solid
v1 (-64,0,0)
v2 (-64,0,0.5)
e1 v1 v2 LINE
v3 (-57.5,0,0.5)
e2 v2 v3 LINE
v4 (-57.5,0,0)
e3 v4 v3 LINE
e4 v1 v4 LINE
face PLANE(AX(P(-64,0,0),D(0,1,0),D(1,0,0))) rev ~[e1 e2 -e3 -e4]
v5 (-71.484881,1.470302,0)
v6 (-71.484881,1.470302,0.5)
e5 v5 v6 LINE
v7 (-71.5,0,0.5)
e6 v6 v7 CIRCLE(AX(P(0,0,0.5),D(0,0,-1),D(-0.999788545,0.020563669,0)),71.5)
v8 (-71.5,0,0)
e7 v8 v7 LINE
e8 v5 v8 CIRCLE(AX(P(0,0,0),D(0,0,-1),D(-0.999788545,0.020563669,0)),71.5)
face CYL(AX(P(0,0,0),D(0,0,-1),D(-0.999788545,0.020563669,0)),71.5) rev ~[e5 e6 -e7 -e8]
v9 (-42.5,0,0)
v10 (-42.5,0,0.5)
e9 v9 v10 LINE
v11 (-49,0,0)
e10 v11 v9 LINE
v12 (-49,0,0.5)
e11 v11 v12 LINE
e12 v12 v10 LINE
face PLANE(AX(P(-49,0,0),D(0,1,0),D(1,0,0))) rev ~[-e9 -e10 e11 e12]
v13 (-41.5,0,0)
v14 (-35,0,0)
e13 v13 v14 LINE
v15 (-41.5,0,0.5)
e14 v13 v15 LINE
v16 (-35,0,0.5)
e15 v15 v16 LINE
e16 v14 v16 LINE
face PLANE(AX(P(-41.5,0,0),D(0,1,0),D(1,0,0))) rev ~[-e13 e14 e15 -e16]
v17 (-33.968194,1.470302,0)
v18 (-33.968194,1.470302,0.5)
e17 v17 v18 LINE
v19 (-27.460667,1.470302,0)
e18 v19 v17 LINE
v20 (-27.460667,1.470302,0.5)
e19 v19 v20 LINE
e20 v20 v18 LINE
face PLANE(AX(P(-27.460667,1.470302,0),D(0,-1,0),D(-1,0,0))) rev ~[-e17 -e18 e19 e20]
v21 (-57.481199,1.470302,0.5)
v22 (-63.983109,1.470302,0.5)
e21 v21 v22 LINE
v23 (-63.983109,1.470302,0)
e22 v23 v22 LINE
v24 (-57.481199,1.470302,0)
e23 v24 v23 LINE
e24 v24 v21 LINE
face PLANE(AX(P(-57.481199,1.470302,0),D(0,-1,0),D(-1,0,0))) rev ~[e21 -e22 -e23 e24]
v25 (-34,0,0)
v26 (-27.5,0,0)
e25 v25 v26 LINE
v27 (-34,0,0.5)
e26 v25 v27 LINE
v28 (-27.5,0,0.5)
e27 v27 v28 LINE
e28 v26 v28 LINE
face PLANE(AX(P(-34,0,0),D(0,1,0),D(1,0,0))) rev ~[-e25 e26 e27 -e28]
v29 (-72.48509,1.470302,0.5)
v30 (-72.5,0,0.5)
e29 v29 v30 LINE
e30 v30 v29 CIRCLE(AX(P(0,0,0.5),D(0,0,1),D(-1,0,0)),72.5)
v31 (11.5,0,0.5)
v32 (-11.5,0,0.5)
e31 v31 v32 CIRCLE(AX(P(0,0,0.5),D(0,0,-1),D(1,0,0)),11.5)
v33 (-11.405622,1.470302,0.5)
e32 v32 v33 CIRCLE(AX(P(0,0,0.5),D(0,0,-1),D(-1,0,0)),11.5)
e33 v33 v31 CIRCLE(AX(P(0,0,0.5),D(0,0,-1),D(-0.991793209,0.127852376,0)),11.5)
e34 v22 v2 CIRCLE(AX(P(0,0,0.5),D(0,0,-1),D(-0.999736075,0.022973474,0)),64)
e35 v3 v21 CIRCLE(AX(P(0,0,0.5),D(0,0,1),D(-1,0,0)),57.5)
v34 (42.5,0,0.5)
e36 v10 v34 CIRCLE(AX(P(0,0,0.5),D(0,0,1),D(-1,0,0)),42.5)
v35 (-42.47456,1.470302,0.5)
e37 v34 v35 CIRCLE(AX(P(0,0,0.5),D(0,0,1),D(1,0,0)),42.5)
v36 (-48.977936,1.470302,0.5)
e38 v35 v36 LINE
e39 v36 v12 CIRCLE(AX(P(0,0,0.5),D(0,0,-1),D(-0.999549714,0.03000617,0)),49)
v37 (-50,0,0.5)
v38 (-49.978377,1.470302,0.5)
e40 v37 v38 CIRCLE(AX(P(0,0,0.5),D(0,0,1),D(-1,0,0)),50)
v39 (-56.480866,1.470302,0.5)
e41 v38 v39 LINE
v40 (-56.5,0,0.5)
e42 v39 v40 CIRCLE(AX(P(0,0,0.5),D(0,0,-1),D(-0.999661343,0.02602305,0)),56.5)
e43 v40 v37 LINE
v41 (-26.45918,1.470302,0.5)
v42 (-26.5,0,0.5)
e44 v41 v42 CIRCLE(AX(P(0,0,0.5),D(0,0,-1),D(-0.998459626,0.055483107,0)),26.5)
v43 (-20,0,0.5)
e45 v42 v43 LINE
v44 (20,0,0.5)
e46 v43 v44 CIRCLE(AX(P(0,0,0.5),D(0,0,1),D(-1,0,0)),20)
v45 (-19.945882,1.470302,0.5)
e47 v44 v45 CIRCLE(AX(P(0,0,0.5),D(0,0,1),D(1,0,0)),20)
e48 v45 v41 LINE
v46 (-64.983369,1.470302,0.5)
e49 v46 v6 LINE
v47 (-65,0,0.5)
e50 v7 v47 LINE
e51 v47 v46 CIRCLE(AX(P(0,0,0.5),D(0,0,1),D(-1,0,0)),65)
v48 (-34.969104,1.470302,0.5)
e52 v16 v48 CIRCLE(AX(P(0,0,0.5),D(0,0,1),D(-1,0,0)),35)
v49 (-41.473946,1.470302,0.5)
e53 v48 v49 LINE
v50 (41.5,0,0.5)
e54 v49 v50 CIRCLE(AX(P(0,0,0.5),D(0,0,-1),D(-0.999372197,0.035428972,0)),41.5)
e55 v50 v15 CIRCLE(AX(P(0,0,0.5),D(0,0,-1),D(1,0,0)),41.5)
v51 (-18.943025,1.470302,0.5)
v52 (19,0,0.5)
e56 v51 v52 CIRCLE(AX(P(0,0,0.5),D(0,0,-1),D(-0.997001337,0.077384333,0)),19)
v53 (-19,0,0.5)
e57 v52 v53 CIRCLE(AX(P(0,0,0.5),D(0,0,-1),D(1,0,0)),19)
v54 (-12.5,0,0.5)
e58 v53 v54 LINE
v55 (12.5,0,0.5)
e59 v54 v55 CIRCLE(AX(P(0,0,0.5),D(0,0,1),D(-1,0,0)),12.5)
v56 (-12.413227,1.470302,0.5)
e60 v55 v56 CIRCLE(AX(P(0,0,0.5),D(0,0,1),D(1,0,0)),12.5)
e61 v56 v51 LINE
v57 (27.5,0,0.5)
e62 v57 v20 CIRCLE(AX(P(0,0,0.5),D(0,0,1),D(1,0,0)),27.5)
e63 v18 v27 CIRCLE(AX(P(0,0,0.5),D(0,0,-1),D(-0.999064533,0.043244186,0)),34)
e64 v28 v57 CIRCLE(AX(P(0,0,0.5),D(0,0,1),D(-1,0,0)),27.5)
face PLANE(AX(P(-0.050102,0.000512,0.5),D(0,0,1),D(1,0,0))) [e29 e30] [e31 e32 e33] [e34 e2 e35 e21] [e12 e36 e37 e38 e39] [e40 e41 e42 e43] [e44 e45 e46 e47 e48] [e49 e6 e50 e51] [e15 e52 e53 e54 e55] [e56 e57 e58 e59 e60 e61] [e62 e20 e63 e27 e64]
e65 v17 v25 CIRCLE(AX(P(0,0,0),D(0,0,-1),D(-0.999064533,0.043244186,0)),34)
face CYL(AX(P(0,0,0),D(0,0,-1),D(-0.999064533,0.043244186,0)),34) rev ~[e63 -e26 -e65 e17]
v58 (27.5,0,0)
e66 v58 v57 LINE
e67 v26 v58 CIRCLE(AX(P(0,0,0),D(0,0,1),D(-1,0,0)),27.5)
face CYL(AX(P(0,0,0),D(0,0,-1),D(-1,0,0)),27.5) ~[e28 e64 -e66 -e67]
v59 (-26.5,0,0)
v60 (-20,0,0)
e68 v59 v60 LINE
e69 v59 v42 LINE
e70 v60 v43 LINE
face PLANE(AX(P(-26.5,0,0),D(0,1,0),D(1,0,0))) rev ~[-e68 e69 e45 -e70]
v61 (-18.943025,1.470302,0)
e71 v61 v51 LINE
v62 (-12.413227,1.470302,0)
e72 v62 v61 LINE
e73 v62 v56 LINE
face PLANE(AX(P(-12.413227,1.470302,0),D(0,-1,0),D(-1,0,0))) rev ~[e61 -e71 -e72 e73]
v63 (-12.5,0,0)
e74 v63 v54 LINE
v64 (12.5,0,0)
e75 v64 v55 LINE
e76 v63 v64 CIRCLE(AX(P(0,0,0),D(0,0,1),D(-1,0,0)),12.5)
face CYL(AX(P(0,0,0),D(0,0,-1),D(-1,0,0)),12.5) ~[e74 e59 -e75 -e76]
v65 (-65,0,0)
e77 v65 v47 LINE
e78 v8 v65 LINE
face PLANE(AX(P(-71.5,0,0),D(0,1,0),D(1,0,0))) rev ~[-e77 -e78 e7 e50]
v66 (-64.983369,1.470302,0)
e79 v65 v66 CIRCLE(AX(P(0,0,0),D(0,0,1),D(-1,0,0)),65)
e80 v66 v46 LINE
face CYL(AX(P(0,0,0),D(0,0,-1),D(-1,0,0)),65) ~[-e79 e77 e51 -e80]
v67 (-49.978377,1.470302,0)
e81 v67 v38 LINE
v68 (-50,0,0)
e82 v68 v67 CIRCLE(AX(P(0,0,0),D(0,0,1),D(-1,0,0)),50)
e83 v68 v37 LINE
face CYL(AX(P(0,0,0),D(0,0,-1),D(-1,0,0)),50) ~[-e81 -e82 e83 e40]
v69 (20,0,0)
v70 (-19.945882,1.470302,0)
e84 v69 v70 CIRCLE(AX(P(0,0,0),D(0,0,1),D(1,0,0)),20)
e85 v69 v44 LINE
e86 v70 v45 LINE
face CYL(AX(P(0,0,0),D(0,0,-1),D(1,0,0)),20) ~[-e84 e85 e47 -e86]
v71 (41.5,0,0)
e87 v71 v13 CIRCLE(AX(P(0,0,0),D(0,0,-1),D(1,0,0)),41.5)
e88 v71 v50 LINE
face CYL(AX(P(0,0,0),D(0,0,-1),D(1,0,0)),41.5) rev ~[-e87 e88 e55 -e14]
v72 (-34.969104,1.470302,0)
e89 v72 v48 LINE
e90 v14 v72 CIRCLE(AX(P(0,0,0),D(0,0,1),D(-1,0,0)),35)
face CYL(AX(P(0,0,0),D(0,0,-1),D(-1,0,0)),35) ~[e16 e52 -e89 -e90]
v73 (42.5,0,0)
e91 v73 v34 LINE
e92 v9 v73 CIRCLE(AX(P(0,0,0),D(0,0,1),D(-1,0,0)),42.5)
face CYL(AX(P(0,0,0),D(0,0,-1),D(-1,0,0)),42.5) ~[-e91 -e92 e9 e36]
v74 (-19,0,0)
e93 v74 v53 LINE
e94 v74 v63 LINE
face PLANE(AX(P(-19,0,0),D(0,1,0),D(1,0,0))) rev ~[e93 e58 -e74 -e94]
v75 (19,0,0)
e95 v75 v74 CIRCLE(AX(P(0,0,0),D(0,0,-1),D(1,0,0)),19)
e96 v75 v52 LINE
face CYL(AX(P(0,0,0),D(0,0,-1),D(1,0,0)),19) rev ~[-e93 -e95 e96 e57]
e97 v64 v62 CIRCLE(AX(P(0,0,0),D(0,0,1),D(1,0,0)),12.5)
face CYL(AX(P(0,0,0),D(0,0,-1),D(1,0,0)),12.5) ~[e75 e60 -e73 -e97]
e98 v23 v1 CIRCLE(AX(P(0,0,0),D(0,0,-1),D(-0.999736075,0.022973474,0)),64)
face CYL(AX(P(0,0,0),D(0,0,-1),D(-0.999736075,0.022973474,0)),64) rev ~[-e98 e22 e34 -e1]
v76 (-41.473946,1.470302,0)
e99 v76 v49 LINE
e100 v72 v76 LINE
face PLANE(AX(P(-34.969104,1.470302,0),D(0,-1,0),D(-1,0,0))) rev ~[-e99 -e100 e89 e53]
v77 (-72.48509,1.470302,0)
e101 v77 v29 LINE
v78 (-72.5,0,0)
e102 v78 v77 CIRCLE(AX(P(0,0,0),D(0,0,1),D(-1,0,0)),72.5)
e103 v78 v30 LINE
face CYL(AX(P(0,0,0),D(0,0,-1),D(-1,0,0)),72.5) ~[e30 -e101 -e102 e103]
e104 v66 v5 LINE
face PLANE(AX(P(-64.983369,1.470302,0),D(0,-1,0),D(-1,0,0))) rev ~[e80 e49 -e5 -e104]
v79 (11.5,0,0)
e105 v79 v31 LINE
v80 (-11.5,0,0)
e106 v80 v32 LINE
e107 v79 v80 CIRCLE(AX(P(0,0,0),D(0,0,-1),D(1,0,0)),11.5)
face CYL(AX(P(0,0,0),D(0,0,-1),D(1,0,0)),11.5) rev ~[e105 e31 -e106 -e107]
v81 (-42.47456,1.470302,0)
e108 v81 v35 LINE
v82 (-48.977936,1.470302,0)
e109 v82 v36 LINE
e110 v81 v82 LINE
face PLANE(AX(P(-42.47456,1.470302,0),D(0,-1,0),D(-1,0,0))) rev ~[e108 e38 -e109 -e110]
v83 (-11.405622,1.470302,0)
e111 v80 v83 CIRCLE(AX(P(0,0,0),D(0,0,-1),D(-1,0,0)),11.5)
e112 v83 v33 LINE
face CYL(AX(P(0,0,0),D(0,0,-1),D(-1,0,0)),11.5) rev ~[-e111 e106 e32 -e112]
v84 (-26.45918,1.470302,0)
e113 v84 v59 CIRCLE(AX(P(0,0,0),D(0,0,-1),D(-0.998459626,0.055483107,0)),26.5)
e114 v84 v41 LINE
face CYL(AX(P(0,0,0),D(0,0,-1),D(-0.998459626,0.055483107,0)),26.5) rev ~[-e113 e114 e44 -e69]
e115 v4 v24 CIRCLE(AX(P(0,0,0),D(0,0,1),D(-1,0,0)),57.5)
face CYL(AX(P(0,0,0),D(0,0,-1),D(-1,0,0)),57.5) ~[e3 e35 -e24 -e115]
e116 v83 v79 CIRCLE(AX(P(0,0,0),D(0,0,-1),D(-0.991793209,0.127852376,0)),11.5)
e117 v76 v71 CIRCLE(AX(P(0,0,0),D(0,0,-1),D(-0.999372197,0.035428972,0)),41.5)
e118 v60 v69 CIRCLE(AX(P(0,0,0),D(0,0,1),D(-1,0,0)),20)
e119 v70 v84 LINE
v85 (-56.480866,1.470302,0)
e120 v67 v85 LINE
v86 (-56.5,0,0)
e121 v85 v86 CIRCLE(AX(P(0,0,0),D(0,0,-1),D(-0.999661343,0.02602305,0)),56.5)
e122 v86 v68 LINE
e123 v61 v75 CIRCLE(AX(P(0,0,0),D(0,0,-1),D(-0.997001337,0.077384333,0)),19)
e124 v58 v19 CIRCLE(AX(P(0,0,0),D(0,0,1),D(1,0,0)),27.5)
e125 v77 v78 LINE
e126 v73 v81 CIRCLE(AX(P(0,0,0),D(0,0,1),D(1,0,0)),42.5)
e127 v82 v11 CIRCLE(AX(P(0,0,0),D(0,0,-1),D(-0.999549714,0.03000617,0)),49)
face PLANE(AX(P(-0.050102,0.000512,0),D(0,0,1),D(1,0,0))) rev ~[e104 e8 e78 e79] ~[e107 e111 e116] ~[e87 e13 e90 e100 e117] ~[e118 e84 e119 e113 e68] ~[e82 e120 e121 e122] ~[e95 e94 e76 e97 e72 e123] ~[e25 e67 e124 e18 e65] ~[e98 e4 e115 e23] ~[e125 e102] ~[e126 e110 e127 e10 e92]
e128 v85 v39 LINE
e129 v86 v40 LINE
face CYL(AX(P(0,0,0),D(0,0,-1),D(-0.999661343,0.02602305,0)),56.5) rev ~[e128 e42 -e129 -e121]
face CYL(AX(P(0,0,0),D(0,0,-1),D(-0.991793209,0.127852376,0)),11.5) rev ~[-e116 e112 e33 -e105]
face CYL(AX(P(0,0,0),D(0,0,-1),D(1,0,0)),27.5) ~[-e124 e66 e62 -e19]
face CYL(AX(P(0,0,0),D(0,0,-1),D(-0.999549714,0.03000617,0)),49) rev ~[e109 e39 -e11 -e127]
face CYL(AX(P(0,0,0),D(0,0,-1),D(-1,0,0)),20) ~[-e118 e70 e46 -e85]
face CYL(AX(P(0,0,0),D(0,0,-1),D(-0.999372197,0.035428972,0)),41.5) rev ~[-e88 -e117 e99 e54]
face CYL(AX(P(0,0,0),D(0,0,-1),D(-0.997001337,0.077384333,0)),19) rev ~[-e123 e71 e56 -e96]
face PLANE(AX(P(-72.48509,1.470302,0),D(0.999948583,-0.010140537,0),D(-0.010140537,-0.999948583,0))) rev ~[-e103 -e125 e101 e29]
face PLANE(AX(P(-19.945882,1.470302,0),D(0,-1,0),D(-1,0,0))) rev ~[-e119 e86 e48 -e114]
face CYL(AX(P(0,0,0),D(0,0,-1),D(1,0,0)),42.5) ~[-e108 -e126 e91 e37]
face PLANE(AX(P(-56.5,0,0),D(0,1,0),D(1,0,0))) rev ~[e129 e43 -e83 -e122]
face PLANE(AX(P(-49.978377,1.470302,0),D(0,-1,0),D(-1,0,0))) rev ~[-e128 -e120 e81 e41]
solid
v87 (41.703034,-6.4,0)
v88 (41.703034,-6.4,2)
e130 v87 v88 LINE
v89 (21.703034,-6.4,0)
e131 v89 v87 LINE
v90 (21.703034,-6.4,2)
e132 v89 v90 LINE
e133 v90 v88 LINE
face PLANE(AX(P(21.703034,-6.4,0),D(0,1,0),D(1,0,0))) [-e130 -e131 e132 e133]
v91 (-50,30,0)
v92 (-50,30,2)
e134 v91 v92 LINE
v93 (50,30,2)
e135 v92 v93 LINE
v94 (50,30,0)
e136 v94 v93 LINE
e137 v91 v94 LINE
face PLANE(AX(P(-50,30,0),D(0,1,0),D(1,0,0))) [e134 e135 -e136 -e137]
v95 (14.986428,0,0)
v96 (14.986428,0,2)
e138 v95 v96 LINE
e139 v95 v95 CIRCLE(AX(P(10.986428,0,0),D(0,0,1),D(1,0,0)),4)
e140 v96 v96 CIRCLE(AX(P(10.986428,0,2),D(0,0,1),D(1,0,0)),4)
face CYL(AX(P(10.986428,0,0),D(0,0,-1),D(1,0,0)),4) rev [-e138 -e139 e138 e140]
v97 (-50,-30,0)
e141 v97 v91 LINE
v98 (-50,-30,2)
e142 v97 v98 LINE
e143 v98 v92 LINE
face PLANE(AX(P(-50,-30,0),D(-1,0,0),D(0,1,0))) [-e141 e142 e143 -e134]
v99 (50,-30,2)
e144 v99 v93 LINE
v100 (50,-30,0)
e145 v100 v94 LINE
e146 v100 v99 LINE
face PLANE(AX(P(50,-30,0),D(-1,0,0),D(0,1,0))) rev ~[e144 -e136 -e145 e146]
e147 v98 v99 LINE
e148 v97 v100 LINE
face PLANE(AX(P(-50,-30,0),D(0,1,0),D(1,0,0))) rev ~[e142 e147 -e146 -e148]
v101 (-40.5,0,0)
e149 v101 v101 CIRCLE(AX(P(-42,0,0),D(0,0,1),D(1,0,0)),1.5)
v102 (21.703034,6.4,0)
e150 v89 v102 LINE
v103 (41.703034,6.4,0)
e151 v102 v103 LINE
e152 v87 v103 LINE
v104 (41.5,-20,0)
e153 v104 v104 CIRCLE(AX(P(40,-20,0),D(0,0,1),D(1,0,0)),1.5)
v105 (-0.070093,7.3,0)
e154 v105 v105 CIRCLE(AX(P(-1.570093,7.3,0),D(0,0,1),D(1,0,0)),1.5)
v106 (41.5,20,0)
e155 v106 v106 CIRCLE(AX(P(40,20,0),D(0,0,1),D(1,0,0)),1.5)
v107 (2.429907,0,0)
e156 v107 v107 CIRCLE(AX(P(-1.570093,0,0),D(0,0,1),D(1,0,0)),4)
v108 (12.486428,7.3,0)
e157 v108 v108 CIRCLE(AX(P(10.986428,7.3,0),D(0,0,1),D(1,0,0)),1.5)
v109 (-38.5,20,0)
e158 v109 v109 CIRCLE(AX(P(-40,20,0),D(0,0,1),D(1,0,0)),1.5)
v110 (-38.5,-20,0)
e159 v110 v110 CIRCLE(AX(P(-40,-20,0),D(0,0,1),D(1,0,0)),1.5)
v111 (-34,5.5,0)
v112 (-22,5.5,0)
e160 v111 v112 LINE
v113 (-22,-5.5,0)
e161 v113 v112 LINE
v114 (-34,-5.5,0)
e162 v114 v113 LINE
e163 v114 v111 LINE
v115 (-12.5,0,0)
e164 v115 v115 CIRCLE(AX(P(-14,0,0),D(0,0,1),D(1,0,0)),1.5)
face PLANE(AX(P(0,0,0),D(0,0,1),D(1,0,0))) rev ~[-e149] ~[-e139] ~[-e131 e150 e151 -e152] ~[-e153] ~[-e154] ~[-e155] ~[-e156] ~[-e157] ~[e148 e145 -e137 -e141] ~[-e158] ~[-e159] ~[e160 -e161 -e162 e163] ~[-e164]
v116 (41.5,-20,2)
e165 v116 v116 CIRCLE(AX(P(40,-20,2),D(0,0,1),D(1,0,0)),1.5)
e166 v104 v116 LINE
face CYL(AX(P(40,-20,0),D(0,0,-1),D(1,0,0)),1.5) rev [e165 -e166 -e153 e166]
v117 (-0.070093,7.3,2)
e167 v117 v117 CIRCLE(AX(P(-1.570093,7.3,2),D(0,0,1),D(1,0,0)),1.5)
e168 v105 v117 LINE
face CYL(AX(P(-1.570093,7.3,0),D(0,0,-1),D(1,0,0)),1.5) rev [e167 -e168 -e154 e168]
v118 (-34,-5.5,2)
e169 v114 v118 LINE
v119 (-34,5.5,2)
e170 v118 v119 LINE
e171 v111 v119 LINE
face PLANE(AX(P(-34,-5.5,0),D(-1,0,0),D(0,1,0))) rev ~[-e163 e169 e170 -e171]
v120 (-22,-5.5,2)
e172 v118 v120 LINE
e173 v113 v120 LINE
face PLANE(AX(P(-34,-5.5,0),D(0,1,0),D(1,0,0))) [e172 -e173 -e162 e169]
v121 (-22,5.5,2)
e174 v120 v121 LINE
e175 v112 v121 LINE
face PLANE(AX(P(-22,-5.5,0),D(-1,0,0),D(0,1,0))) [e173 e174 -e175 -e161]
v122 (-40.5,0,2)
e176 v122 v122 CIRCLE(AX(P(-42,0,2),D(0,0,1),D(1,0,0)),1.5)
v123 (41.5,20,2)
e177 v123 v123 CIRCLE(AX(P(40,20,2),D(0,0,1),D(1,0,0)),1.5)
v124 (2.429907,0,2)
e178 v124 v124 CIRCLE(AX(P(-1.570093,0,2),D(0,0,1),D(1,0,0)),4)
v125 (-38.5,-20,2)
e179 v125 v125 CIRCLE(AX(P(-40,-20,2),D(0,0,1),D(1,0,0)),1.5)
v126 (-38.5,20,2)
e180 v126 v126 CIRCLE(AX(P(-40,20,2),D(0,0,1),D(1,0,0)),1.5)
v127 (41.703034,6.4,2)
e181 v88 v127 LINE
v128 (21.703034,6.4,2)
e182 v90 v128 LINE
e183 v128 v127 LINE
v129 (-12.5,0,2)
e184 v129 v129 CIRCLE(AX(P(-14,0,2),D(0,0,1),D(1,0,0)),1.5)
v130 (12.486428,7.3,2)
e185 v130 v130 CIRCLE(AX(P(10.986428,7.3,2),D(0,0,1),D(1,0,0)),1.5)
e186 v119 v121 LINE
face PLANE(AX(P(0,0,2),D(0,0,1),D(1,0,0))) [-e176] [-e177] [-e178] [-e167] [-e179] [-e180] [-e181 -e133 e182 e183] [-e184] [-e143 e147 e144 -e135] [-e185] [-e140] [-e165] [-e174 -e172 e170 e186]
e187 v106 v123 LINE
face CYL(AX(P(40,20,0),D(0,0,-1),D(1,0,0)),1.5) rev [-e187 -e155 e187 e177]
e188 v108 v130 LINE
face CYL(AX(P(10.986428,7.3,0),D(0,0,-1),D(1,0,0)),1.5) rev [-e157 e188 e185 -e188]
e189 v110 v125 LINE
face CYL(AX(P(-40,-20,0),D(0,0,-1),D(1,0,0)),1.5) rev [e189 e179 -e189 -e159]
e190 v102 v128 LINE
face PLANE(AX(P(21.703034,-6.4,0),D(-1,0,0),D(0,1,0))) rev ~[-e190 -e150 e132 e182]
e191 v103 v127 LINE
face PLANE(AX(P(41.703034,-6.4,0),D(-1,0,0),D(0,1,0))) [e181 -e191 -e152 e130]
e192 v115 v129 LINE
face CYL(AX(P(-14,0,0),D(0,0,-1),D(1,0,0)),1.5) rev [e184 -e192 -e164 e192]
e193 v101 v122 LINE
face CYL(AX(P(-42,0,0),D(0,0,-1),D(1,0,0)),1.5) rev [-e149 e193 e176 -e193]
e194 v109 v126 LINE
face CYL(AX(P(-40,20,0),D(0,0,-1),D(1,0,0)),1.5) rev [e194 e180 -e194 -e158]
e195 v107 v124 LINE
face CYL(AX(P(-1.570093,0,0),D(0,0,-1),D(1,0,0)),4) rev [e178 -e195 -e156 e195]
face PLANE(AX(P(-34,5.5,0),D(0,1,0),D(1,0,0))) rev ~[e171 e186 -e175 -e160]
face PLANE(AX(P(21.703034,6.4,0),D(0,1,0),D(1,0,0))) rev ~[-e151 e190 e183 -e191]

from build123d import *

# Parameters (mm, degrees)
F0_W     = 100
F0_H     = 60
F0_R     = 1.5
F0_W_2   = 12
F0_H_2   = 11
F0_R_2   = 4
F0_W_3   = 20
F0_H_3   = 12.8
F1_DEPTH = 2
F3_DEPTH = 0.5


with BuildPart() as f1:
    # F0 (on Top) → F1 (new body)
    with BuildSketch(Plane.XY):
        Rectangle(F0_W, F0_H)
        with Locations((-40, -20)):
            Circle(F0_R, mode=Mode.SUBTRACT)
        with Locations((40, -20)):
            Circle(F0_R, mode=Mode.SUBTRACT)
        with Locations((-42, 0)):
            Circle(F0_R, mode=Mode.SUBTRACT)
        with Locations((-28, 0)):
            Rectangle(F0_W_2, F0_H_2, mode=Mode.SUBTRACT)
        with Locations((-14, 0)):
            Circle(F0_R, mode=Mode.SUBTRACT)
        with Locations((-1.5700934455, 0)):
            Circle(F0_R_2, mode=Mode.SUBTRACT)
        with Locations((-1.5700934455, 7.3)):
            Circle(F0_R, mode=Mode.SUBTRACT)
        with Locations((-40, 20)):
            Circle(F0_R, mode=Mode.SUBTRACT)
        with Locations((10.9864281221, 0)):
            Circle(F0_R_2, mode=Mode.SUBTRACT)
        with Locations((10.9864281221, 7.3)):
            Circle(F0_R, mode=Mode.SUBTRACT)
        with Locations((31.7030341224, 0)):
            Rectangle(F0_W_3, F0_H_3, mode=Mode.SUBTRACT)
        with Locations((40, 20)):
            Circle(F0_R, mode=Mode.SUBTRACT)
    extrude(amount=F1_DEPTH)


with BuildPart() as f3:
    # F2 (on Top) → F3 (new body)
    with BuildSketch(Plane.XY):
        with BuildLine():
            ThreePointArc((-72.5, 0), (0, -72.5), (72.5, 0))
            ThreePointArc((72.5, 0), (0.7351889639, 72.4962722986), (-72.4850895776, 1.4703023261))
            Line((-72.4850895776, 1.4703023261), (-71.4848809964, 1.4703023261))
            ThreePointArc((-71.4848809964, 1.4703023261), (0.7351900289, 71.4962201492), (71.5, 0))
            ThreePointArc((71.5, 0), (0, -71.5), (-71.5, 0))
            Line((-71.5, 0), (-72.5, 0))
        make_face()
        with BuildLine():
            Line((-71.4848809964, 1.4703023261), (-72.4850895776, 1.4703023261))
            Line((-72.4850895776, 1.4703023261), (-72.5, 0))
            Line((-72.5, 0), (-71.5, 0))
            ThreePointArc((-71.5, 0), (-71.4962201492, 0.7351900289), (-71.4848809964, 1.4703023261))
        make_face()
        with BuildLine():
            Line((-64.9833687267, 1.4703023261), (-71.4848809964, 1.4703023261))
            ThreePointArc((-71.4848809964, 1.4703023261), (-71.4962201492, 0.7351900289), (-71.5, 0))
            Line((-71.5, 0), (-65, 0))
            ThreePointArc((-65, 0), (-64.9958420487, 0.7351981925), (-64.9833687267, 1.4703023261))
        make_face()
        with BuildLine():
            Line((-63.983108795, 1.4703023261), (-64.9833687267, 1.4703023261))
            ThreePointArc((-64.9833687267, 1.4703023261), (-64.9958420487, 0.7351981925), (-65, 0))
            Line((-65, 0), (-64, 0))
            ThreePointArc((-64, 0), (-63.9957770594, 0.735199674), (-63.983108795, 1.4703023261))
        make_face()
        with BuildLine():
            Line((-57.4811987616, 1.4703023261), (-63.983108795, 1.4703023261))
            ThreePointArc((-63.983108795, 1.4703023261), (-63.9957770594, 0.735199674), (-64, 0))
            Line((-64, 0), (-57.5, 0))
            ThreePointArc((-57.5, 0), (-57.4952994983, 0.735211265), (-57.4811987616, 1.4703023261))
        make_face()
        with BuildLine():
            Line((-56.4808658846, 1.4703023261), (-57.4811987616, 1.4703023261))
            ThreePointArc((-57.4811987616, 1.4703023261), (-57.4952994983, 0.735211265), (-57.5, 0))
            Line((-57.5, 0), (-56.5, 0))
            ThreePointArc((-56.5, 0), (-56.4952162686, 0.7352134119), (-56.4808658846, 1.4703023261))
        make_face()
        with BuildLine():
            Line((-49.9783774353, 1.4703023261), (-56.4808658846, 1.4703023261))
            ThreePointArc((-56.4808658846, 1.4703023261), (-56.4952162686, 0.7352134119), (-56.5, 0))
            Line((-56.5, 0), (-50, 0))
            ThreePointArc((-50, 0), (-49.9945940666, 0.7352306552), (-49.9783774353, 1.4703023261))
        make_face()
        with BuildLine():
            Line((-48.9779359617, 1.4703023261), (-49.9783774353, 1.4703023261))
            ThreePointArc((-49.9783774353, 1.4703023261), (-49.9945940666, 0.7352306552), (-50, 0))
            Line((-50, 0), (-49, 0))
            ThreePointArc((-49, 0), (-48.9944836799, 0.7352339342), (-48.9779359617, 1.4703023261))
        make_face()
        with BuildLine():
            Line((-42.4745595748, 1.4703023261), (-48.9779359617, 1.4703023261))
            ThreePointArc((-48.9779359617, 1.4703023261), (-48.9944836799, 0.7352339342), (-49, 0))
            Line((-49, 0), (-42.5, 0))
            ThreePointArc((-42.5, 0), (-42.4936394177, 0.7352612028), (-42.4745595748, 1.4703023261))
        make_face()
        with BuildLine():
            Line((-41.4739461719, 1.4703023261), (-42.4745595748, 1.4703023261))
            ThreePointArc((-42.4745595748, 1.4703023261), (-42.4936394177, 0.7352612028), (-42.5, 0))
            Line((-42.5, 0), (-41.5, 0))
            ThreePointArc((-41.5, 0), (-41.4934860317, 0.7352665727), (-41.4739461719, 1.4703023261))
        make_face()
        with BuildLine():
            Line((-34.9691036641, 1.4703023261), (-41.4739461719, 1.4703023261))
            ThreePointArc((-41.4739461719, 1.4703023261), (-41.4934860317, 0.7352665727), (-41.5, 0))
            Line((-41.5, 0), (-35, 0))
            ThreePointArc((-35, 0), (-34.9922750635, 0.7353134559), (-34.9691036641, 1.4703023261))
        make_face()
        with BuildLine():
            Line((-33.9681941096, 1.4703023261), (-34.9691036641, 1.4703023261))
            ThreePointArc((-34.9691036641, 1.4703023261), (-34.9922750635, 0.7353134559), (-35, 0))
            Line((-35, 0), (-34, 0))
            ThreePointArc((-34, 0), (-33.9920475974, 0.7353231508), (-33.9681941096, 1.4703023261))
        make_face()
        with BuildLine():
            Line((-27.4606666174, 1.4703023261), (-33.9681941096, 1.4703023261))
            ThreePointArc((-33.9681941096, 1.4703023261), (-33.9920475974, 0.7353231508), (-34, 0))
            Line((-34, 0), (-27.5, 0))
            ThreePointArc((-27.5, 0), (-27.4901648956, 0.7354141767), (-27.4606666174, 1.4703023261))
        make_face()
        with BuildLine():
            Line((-26.4591800907, 1.4703023261), (-27.4606666174, 1.4703023261))
            ThreePointArc((-27.4606666174, 1.4703023261), (-27.4901648956, 0.7354141767), (-27.5, 0))
            Line((-27.5, 0), (-26.5, 0))
            ThreePointArc((-26.5, 0), (-26.489793057, 0.7354344286), (-26.4591800907, 1.4703023261))
        make_face()
        with BuildLine():
            Line((-19.945882058, 1.4703023261), (-26.4591800907, 1.4703023261))
            ThreePointArc((-26.4591800907, 1.4703023261), (-26.489793057, 0.7354344286), (-26.5, 0))
            Line((-26.5, 0), (-20, 0))
            ThreePointArc((-20, 0), (-19.9864659352, 0.7356489791), (-19.945882058, 1.4703023261))
        make_face()
        with BuildLine():
            Line((-18.9430253938, 1.4703023261), (-19.945882058, 1.4703023261))
            ThreePointArc((-19.945882058, 1.4703023261), (-19.9864659352, 0.7356489791), (-20, 0))
            Line((-20, 0), (-19, 0))
            ThreePointArc((-19, 0), (-18.9857510055, 0.7357029013), (-18.9430253938, 1.4703023261))
        make_face()
        with BuildLine():
            Line((-11.4056219063, 1.4703023261), (-12.4132272625, 1.4703023261))
            ThreePointArc((-12.4132272625, 1.4703023261), (-12.4782879591, 0.7364303154), (-12.5, 0))
            Line((-12.5, 0), (-11.5, 0))
            ThreePointArc((-11.5, 0), (-11.4763812224, 0.7366641288), (-11.4056219063, 1.4703023261))
        make_face()
        with BuildLine():
            ThreePointArc((12.5, 0), (0.7364303154, 12.4782879591), (-12.4132272625, 1.4703023261))
            Line((-12.4132272625, 1.4703023261), (-11.4056219063, 1.4703023261))
            ThreePointArc((-11.4056219063, 1.4703023261), (0.7366641288, 11.4763812224), (11.5, 0))
            ThreePointArc((11.5, 0), (0, -11.5), (-11.5, 0))
            Line((-11.5, 0), (-12.5, 0))
            ThreePointArc((-12.5, 0), (0, -12.5), (12.5, 0))
        make_face()
        with BuildLine():
            ThreePointArc((20, 0), (0.7356489791, 19.9864659352), (-19.945882058, 1.4703023261))
            Line((-19.945882058, 1.4703023261), (-18.9430253938, 1.4703023261))
            ThreePointArc((-18.9430253938, 1.4703023261), (0.7357029013, 18.9857510055), (19, 0))
            ThreePointArc((19, 0), (0, -19), (-19, 0))
            Line((-19, 0), (-20, 0))
            ThreePointArc((-20, 0), (0, -20), (20, 0))
        make_face()
        with BuildLine():
            ThreePointArc((27.5, 0), (0.7354141767, 27.4901648956), (-27.4606666174, 1.4703023261))
            Line((-27.4606666174, 1.4703023261), (-26.4591800907, 1.4703023261))
            ThreePointArc((-26.4591800907, 1.4703023261), (0.7354344286, 26.489793057), (26.5, 0))
            ThreePointArc((26.5, 0), (0, -26.5), (-26.5, 0))
            Line((-26.5, 0), (-27.5, 0))
            ThreePointArc((-27.5, 0), (0, -27.5), (27.5, 0))
        make_face()
        with BuildLine():
            ThreePointArc((35, 0), (0.7353134559, 34.9922750635), (-34.9691036641, 1.4703023261))
            Line((-34.9691036641, 1.4703023261), (-33.9681941096, 1.4703023261))
            ThreePointArc((-33.9681941096, 1.4703023261), (0.7353231508, 33.9920475974), (34, 0))
            ThreePointArc((34, 0), (0, -34), (-34, 0))
            Line((-34, 0), (-35, 0))
            ThreePointArc((-35, 0), (0, -35), (35, 0))
        make_face()
        with BuildLine():
            ThreePointArc((42.5, 0), (0.7352612028, 42.4936394177), (-42.4745595748, 1.4703023261))
            Line((-42.4745595748, 1.4703023261), (-41.4739461719, 1.4703023261))
            ThreePointArc((-41.4739461719, 1.4703023261), (0.7352665727, 41.4934860317), (41.5, 0))
            ThreePointArc((41.5, 0), (0, -41.5), (-41.5, 0))
            Line((-41.5, 0), (-42.5, 0))
            ThreePointArc((-42.5, 0), (0, -42.5), (42.5, 0))
        make_face()
        with BuildLine():
            ThreePointArc((50, 0), (0.7352306552, 49.9945940666), (-49.9783774353, 1.4703023261))
            Line((-49.9783774353, 1.4703023261), (-48.9779359617, 1.4703023261))
            ThreePointArc((-48.9779359617, 1.4703023261), (0.7352339342, 48.9944836799), (49, 0))
            ThreePointArc((49, 0), (0, -49), (-49, 0))
            Line((-49, 0), (-50, 0))
            ThreePointArc((-50, 0), (0, -50), (50, 0))
        make_face()
        with BuildLine():
            Line((-12.4132272625, 1.4703023261), (-18.9430253938, 1.4703023261))
            ThreePointArc((-18.9430253938, 1.4703023261), (-18.9857510055, 0.7357029013), (-19, 0))
            Line((-19, 0), (-12.5, 0))
            ThreePointArc((-12.5, 0), (-12.4782879591, 0.7364303154), (-12.4132272625, 1.4703023261))
        make_face()
        with BuildLine():
            ThreePointArc((57.5, 0), (0.735211265, 57.4952994983), (-57.4811987616, 1.4703023261))
            Line((-57.4811987616, 1.4703023261), (-56.4808658846, 1.4703023261))
            ThreePointArc((-56.4808658846, 1.4703023261), (0.7352134119, 56.4952162686), (56.5, 0))
            ThreePointArc((56.5, 0), (0, -56.5), (-56.5, 0))
            Line((-56.5, 0), (-57.5, 0))
            ThreePointArc((-57.5, 0), (0, -57.5), (57.5, 0))
        make_face()
        with BuildLine():
            ThreePointArc((65, 0), (0.7351981925, 64.9958420487), (-64.9833687267, 1.4703023261))
            Line((-64.9833687267, 1.4703023261), (-63.983108795, 1.4703023261))
            ThreePointArc((-63.983108795, 1.4703023261), (0.735199674, 63.9957770594), (64, 0))
            ThreePointArc((64, 0), (0, -64), (-64, 0))
            Line((-64, 0), (-65, 0))
            ThreePointArc((-65, 0), (0, -65), (65, 0))
        make_face()
    extrude(amount=F3_DEPTH)


solid = Compound([f1.part, f3.part])
